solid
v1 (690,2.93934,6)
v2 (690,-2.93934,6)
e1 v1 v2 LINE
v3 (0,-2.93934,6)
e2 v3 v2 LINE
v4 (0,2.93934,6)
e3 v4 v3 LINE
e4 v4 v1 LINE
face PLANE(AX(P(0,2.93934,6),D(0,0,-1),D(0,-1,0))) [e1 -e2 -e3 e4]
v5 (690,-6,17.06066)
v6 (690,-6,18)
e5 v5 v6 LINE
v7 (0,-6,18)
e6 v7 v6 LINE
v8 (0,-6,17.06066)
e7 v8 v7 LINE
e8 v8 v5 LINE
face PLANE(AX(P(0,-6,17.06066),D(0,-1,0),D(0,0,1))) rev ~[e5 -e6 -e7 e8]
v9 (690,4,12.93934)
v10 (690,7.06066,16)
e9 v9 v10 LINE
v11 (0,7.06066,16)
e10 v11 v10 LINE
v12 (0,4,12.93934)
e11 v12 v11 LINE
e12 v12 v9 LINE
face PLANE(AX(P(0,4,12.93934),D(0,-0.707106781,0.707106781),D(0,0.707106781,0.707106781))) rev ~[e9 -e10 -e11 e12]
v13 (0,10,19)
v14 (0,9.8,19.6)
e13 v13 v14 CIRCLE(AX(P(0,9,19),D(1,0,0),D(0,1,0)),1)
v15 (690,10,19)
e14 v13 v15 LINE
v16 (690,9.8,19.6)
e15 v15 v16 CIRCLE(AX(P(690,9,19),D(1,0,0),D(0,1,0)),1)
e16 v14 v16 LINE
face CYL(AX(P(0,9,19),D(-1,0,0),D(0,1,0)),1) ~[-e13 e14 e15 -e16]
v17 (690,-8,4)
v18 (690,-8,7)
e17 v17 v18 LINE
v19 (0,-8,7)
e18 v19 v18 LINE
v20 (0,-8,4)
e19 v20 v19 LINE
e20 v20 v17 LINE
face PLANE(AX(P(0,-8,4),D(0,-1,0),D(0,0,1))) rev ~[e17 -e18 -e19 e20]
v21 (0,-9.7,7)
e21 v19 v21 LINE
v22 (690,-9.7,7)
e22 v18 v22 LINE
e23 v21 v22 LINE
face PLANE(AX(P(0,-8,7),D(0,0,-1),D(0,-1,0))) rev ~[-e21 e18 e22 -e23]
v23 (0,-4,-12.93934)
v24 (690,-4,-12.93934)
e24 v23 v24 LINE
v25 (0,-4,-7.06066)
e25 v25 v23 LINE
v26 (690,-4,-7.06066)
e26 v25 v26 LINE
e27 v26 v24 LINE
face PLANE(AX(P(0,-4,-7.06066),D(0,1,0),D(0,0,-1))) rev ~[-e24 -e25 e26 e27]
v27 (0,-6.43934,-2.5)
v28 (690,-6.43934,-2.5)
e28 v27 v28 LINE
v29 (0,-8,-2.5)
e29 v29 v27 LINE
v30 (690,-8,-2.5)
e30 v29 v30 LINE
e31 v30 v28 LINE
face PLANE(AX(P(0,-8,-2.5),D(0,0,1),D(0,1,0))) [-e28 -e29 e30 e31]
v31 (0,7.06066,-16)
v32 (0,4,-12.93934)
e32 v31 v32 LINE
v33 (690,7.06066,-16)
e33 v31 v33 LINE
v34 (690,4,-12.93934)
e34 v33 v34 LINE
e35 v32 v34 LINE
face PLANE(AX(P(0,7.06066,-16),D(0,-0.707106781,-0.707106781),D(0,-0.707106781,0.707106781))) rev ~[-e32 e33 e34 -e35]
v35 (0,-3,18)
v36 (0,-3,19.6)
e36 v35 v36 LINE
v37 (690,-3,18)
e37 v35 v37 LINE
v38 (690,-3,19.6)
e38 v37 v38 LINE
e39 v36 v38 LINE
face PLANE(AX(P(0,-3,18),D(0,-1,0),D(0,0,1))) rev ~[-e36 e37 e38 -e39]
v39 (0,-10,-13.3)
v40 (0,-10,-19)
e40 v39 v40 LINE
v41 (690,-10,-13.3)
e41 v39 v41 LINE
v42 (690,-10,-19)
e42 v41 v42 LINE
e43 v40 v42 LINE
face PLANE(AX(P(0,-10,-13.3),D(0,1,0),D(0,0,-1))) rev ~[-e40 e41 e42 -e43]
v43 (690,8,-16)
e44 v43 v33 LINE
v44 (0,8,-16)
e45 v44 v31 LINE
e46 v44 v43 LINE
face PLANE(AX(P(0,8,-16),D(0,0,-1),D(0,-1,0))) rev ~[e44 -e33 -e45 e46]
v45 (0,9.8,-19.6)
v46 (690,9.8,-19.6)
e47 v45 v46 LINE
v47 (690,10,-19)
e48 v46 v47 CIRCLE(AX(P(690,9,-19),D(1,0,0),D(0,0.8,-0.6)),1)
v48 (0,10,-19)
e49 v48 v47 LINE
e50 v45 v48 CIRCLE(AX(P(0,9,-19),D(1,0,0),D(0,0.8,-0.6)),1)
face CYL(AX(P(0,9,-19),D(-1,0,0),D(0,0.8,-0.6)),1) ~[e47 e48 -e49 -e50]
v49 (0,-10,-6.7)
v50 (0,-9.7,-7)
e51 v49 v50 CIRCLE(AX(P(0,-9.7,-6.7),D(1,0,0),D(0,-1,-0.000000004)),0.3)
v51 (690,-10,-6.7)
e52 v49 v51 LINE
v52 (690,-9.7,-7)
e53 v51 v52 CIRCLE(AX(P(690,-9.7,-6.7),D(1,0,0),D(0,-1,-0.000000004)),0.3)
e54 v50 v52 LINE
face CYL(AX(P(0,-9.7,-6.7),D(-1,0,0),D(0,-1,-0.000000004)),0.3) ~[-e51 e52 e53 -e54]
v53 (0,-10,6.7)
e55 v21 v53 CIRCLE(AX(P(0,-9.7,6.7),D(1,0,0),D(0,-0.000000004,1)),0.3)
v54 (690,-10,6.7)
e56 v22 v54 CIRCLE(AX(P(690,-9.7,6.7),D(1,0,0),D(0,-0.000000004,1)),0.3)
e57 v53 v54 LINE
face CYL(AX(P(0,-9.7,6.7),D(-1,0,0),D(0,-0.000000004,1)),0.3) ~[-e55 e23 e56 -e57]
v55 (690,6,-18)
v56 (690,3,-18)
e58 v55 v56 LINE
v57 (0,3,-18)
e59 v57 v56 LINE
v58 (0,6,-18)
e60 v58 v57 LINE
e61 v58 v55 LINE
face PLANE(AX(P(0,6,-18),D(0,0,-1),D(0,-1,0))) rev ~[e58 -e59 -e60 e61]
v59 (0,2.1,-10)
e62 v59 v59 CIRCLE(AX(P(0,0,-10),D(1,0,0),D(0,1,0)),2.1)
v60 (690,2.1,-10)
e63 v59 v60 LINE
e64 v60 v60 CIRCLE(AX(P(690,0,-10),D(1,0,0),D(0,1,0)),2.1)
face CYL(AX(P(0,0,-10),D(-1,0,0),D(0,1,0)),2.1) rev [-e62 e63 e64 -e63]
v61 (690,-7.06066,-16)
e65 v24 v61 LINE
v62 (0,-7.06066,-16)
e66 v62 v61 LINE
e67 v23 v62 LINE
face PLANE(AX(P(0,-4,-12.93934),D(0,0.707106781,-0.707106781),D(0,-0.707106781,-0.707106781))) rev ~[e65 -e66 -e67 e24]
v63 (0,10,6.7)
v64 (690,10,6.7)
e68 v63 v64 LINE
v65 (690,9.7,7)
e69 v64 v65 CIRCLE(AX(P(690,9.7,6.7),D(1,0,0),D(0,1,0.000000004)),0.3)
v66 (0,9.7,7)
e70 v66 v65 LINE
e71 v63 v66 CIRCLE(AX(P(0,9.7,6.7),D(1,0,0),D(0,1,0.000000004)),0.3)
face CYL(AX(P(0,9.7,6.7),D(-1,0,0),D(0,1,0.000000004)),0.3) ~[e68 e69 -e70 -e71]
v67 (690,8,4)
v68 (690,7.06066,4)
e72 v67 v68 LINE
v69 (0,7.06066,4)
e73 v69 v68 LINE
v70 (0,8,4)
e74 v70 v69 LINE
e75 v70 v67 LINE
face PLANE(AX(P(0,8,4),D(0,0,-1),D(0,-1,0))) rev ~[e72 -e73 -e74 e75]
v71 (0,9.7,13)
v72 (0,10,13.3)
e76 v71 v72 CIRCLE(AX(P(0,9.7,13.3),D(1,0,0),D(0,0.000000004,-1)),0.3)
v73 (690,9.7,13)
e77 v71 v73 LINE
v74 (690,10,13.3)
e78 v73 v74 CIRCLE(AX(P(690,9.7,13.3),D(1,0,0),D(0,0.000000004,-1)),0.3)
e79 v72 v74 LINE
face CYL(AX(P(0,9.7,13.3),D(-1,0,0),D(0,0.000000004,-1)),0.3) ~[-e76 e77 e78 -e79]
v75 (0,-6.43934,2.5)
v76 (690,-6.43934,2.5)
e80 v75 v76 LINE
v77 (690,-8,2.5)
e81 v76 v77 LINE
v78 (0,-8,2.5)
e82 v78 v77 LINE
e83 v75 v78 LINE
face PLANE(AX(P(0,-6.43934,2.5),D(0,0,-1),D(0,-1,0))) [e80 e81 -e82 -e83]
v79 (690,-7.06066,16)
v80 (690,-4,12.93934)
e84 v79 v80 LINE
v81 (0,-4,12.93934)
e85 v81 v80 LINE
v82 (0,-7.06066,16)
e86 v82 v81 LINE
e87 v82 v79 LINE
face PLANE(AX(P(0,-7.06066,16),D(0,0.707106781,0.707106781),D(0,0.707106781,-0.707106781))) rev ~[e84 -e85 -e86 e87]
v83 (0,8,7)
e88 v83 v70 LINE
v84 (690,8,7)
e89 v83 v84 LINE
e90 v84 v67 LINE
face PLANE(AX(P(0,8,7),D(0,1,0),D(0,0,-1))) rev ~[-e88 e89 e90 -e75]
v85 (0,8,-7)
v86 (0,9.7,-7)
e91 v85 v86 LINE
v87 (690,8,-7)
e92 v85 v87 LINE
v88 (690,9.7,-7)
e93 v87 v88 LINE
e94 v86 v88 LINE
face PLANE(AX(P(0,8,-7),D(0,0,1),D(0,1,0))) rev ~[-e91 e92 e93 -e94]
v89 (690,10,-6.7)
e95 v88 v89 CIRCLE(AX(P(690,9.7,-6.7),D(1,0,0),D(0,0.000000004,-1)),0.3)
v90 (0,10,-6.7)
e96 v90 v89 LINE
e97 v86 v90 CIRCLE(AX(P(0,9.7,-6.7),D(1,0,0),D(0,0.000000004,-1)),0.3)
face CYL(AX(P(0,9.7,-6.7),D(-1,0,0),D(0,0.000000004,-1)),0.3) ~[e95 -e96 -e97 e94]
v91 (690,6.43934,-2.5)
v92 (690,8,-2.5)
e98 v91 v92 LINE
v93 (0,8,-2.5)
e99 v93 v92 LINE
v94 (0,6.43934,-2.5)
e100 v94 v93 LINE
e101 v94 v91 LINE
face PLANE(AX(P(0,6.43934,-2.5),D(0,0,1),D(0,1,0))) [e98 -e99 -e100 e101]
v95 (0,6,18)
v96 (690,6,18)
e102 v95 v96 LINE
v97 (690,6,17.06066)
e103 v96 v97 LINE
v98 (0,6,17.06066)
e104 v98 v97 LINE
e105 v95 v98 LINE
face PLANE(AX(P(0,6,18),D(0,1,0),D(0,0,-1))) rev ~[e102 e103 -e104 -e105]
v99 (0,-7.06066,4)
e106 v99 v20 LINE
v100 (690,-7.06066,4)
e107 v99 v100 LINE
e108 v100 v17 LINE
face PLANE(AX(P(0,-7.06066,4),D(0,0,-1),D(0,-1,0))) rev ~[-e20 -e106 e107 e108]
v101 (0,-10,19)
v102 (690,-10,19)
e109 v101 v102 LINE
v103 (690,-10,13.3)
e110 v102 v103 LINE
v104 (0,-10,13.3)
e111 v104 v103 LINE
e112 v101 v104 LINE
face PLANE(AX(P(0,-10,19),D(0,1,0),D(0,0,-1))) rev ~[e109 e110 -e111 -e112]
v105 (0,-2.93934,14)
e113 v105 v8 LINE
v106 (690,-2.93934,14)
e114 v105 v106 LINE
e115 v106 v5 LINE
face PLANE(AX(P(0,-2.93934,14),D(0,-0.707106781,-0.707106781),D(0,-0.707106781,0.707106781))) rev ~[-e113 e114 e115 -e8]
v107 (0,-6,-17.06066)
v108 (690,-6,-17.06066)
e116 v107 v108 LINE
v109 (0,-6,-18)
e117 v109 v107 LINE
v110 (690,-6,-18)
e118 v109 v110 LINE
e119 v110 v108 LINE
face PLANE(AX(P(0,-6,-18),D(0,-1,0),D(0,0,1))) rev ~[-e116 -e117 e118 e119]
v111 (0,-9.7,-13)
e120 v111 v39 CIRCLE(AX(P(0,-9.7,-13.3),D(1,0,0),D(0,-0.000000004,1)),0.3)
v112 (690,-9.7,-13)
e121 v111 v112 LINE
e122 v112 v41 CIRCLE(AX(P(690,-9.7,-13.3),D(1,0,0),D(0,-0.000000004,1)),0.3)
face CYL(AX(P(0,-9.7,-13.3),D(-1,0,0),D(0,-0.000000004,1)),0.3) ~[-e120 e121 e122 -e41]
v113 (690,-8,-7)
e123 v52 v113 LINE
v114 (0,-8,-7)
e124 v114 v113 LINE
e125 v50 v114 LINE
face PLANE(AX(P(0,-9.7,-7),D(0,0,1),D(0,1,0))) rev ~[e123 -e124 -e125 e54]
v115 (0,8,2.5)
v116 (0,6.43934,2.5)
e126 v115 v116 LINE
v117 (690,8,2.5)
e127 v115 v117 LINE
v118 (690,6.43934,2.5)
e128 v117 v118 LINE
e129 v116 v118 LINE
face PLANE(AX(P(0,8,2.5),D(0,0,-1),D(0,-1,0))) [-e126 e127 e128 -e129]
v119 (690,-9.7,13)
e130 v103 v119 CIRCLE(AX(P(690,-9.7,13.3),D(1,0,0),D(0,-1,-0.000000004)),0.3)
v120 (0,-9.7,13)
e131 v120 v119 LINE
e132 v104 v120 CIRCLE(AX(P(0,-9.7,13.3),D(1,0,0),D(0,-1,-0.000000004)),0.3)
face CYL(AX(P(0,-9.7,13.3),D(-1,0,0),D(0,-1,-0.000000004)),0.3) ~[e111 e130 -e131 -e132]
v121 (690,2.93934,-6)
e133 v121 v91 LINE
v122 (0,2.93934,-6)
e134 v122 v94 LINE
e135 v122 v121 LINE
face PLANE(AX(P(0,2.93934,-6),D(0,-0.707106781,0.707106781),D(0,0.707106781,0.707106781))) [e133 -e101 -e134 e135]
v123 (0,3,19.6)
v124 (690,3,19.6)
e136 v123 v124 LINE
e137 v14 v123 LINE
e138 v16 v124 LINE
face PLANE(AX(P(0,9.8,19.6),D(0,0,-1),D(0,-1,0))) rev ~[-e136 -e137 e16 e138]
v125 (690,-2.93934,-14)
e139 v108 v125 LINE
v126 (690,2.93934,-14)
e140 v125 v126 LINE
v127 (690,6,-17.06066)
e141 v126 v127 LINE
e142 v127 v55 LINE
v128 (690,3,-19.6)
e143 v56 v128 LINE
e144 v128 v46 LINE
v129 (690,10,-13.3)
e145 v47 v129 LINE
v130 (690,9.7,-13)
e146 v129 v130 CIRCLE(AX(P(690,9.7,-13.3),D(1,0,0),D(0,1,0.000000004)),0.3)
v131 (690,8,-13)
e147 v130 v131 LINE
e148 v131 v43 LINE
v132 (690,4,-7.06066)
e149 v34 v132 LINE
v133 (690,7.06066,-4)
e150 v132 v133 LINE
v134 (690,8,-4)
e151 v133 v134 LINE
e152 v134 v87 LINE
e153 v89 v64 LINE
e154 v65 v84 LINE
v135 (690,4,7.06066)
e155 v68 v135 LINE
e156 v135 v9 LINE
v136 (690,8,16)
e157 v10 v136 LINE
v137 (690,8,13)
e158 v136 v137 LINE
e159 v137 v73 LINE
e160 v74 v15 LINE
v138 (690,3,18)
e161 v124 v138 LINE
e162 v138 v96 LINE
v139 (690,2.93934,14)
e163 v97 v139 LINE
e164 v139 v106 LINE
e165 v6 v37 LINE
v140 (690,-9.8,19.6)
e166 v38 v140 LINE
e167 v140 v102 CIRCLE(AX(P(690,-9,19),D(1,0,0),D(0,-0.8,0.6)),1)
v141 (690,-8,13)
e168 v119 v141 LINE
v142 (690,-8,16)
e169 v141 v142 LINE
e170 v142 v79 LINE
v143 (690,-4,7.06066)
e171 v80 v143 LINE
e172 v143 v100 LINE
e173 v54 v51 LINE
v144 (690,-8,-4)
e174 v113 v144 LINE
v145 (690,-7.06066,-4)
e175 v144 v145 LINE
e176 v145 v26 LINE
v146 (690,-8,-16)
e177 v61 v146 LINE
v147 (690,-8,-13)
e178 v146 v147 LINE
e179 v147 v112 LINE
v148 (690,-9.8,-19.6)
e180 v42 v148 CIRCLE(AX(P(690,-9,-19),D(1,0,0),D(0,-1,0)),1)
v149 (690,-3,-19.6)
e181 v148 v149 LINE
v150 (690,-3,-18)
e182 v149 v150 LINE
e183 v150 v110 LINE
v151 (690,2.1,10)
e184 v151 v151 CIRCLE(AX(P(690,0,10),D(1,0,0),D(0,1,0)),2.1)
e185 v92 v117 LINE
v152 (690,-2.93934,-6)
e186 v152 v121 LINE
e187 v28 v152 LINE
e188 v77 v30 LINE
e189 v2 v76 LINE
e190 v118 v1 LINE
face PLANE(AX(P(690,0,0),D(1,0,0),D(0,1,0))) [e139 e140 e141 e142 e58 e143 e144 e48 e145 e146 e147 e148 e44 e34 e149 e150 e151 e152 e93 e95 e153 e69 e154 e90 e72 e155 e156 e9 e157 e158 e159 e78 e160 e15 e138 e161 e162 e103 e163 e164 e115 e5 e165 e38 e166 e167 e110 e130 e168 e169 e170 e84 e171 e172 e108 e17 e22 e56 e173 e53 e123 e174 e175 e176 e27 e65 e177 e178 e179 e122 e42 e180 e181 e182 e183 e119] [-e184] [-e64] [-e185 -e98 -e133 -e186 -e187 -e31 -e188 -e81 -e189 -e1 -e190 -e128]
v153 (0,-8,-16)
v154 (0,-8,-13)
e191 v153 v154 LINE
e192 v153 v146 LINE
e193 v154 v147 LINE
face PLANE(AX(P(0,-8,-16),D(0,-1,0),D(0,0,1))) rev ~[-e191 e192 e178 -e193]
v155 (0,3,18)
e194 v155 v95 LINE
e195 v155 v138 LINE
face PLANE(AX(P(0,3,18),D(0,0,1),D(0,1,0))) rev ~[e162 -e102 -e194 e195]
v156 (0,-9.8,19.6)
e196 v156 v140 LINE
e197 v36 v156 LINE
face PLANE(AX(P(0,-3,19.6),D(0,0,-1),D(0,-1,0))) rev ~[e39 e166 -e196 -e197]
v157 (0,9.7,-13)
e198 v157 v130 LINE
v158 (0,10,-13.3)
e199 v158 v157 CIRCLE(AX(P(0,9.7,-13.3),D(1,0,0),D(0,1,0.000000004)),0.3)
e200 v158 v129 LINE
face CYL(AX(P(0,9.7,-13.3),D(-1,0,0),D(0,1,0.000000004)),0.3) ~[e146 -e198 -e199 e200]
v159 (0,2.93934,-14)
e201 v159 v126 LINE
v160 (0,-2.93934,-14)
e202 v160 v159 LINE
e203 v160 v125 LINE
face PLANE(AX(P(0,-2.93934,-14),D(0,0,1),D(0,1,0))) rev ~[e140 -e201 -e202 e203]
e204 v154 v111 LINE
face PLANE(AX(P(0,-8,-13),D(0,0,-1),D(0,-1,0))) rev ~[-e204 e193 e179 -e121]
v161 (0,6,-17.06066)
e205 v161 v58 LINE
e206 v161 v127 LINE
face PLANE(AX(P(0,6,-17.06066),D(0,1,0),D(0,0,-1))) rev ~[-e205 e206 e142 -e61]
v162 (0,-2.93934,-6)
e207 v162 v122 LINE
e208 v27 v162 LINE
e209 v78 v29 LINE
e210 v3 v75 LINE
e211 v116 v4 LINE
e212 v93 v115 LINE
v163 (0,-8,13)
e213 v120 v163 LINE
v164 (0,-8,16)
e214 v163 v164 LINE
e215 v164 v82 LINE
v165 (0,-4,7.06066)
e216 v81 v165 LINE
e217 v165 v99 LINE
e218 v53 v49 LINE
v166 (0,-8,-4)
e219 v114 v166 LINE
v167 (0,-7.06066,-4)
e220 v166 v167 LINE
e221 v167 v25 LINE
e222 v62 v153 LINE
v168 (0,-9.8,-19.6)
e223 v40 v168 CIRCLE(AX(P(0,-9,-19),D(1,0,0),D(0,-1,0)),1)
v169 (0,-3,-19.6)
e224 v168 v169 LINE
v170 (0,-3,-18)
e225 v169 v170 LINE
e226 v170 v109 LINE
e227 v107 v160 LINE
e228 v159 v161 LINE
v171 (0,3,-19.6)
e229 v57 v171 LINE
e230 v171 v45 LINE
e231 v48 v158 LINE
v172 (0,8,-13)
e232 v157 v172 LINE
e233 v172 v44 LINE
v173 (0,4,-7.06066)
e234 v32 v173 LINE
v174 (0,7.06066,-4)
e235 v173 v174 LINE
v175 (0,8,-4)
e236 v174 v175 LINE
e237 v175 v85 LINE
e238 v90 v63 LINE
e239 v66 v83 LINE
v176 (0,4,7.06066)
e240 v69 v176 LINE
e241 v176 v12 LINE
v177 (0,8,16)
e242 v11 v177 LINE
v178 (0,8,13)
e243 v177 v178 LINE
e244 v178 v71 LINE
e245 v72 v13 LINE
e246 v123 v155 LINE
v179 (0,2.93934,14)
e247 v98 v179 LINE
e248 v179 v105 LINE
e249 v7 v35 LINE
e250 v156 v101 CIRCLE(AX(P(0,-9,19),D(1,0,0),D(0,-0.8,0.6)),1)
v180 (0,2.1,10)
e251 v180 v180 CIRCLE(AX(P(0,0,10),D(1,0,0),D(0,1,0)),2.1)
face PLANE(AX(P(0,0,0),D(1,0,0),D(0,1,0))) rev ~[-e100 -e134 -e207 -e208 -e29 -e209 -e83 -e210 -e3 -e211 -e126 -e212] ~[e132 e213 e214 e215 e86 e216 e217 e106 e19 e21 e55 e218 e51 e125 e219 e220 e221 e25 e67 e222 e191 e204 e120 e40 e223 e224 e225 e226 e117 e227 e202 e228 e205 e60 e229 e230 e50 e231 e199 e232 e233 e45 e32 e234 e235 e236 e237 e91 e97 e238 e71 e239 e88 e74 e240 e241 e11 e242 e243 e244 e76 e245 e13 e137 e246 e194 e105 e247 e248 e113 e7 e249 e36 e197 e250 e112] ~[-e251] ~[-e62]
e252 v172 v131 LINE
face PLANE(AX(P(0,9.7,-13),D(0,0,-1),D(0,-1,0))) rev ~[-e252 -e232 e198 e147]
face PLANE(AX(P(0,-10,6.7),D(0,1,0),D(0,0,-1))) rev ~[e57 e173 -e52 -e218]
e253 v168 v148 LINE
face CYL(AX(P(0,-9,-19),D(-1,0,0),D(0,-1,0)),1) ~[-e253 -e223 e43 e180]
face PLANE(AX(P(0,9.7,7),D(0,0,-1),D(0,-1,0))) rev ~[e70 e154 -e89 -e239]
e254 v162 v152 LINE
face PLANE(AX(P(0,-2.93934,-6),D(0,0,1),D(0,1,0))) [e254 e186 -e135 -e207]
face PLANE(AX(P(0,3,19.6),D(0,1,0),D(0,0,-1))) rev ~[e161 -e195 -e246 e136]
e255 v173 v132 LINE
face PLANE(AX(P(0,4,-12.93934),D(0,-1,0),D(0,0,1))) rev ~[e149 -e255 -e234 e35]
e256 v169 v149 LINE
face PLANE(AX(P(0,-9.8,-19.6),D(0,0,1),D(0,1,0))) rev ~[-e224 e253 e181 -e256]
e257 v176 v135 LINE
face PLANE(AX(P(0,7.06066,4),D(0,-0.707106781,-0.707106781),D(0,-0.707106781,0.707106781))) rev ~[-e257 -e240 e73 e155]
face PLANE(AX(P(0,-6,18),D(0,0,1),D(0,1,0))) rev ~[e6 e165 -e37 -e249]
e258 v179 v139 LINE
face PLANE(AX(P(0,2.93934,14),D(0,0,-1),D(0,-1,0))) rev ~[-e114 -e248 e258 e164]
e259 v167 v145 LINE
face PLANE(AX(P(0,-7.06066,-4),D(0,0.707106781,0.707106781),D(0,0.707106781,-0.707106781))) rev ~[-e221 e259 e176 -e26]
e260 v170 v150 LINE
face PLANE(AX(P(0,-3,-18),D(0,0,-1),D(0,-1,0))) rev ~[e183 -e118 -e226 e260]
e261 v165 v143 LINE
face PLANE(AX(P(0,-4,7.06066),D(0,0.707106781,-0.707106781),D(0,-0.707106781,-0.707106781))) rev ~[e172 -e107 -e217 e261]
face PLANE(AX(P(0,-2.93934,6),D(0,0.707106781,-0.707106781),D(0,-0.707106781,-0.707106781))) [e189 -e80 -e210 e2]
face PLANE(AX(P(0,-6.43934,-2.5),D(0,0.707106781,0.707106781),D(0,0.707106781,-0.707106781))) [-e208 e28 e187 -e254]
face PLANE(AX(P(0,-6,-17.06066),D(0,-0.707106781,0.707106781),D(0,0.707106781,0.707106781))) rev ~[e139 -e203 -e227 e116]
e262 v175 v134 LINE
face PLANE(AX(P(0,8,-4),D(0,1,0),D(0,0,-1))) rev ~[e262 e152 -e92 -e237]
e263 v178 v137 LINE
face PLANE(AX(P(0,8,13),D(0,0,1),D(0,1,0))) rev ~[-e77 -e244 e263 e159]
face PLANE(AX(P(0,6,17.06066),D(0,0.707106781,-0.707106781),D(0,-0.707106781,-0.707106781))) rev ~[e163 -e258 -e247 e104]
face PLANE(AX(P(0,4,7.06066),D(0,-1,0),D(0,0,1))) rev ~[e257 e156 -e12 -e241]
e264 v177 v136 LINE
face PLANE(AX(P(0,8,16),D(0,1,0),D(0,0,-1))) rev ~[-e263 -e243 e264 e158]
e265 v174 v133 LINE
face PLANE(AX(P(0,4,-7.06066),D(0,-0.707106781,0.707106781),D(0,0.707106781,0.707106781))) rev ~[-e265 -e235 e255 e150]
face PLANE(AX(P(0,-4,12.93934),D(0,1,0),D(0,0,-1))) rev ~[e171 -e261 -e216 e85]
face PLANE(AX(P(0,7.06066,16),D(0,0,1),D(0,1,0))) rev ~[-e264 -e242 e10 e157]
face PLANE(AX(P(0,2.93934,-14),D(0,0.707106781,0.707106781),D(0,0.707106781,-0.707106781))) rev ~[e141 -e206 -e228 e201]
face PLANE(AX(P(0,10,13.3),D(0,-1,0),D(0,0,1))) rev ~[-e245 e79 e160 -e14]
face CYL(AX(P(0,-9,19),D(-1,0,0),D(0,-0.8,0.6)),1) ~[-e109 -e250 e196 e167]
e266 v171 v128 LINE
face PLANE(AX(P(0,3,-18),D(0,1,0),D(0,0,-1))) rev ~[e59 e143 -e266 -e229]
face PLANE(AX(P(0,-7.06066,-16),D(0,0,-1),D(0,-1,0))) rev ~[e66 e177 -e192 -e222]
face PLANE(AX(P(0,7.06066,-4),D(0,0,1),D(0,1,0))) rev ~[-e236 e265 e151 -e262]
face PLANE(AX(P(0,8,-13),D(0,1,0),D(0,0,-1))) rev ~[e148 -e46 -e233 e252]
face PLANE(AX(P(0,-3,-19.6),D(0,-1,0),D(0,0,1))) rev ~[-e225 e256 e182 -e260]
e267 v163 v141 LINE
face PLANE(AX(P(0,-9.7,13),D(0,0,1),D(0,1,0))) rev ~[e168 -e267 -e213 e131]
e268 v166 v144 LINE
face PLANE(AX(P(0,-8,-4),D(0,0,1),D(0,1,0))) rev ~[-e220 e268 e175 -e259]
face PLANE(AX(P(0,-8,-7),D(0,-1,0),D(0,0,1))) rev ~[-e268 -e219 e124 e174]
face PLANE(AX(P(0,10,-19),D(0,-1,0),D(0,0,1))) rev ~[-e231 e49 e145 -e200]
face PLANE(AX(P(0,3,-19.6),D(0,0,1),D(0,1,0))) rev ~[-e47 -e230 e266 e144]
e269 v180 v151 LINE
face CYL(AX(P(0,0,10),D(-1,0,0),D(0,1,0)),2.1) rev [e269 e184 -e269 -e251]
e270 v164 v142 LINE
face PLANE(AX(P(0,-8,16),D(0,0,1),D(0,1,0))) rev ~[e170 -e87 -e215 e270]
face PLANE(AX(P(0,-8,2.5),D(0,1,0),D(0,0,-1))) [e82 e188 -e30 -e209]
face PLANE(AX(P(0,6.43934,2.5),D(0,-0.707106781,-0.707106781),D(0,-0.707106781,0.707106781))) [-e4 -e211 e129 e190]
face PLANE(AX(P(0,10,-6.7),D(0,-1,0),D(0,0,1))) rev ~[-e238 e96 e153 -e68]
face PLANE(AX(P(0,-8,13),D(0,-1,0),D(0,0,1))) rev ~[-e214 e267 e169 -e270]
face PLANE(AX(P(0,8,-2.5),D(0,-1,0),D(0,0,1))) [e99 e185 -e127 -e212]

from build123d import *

# Parameters (mm, degrees)
SKETCH_1_R              = 2.1
F_20XS5_20X40S5_1_DEPTH = 690


with BuildPart() as part:
    # 草图1 → 20xs5 20X40S5(1) (new body)
    with BuildSketch(Plane.YZ):
        with BuildLine():
            Line((-10, 19), (-10, 13.3))
            ThreePointArc((-10, 13.3), (-9.912132034, 13.087867966), (-9.7, 13))
            Line((-9.7, 13), (-8, 13))
            Line((-8, 13), (-8, 16))
            Line((-8, 16), (-7.060660172, 16))
            Line((-7.060660172, 16), (-4, 12.939339828))
            Line((-4, 12.939339828), (-4, 7.060660172))
            Line((-4, 7.060660172), (-7.060660172, 4))
            Line((-7.060660172, 4), (-8, 4))
            Line((-8, 4), (-8, 7))
            Line((-8, 7), (-9.7, 7))
            ThreePointArc((-9.7, 7), (-9.912132034, 6.912132034), (-10, 6.7))
            Line((-10, 6.7), (-10, -6.7))
            ThreePointArc((-10, -6.7), (-9.912132034, -6.912132034), (-9.7, -7))
            Line((-9.7, -7), (-8, -7))
            Line((-8, -7), (-8, -4))
            Line((-8, -4), (-7.060660172, -4))
            Line((-7.060660172, -4), (-4, -7.060660172))
            Line((-4, -7.060660172), (-4, -12.939339828))
            Line((-4, -12.939339828), (-7.060660172, -16))
            Line((-7.060660172, -16), (-8, -16))
            Line((-8, -16), (-8, -13))
            Line((-8, -13), (-9.7, -13))
            ThreePointArc((-9.7, -13), (-9.912132034, -13.087867966), (-10, -13.3))
            Line((-10, -13.3), (-10, -19))
            ThreePointArc((-10, -19), (-9.948683298, -19.316227766), (-9.8, -19.6))
            Line((-9.8, -19.6), (-3, -19.6))
            Line((-3, -19.6), (-3, -18))
            Line((-3, -18), (-6, -18))
            Line((-6, -18), (-6, -17.060660172))
            Line((-6, -17.060660172), (-2.939339828, -14))
            Line((-2.939339828, -14), (2.939339828, -14))
            Line((2.939339828, -14), (6, -17.060660172))
            Line((6, -17.060660172), (6, -18))
            Line((6, -18), (3, -18))
            Line((3, -18), (3, -19.6))
            Line((3, -19.6), (9.8, -19.6))
            ThreePointArc((9.8, -19.6), (9.948683298, -19.316227766), (10, -19))
            Line((10, -19), (10, -13.3))
            ThreePointArc((10, -13.3), (9.912132034, -13.087867966), (9.7, -13))
            Line((9.7, -13), (8, -13))
            Line((8, -13), (8, -16))
            Line((8, -16), (7.060660172, -16))
            Line((7.060660172, -16), (4, -12.939339828))
            Line((4, -12.939339828), (4, -7.060660172))
            Line((4, -7.060660172), (7.060660172, -4))
            Line((7.060660172, -4), (8, -4))
            Line((8, -4), (8, -7))
            Line((8, -7), (9.7, -7))
            ThreePointArc((9.7, -7), (9.912132034, -6.912132034), (10, -6.7))
            Line((10, -6.7), (10, 6.7))
            ThreePointArc((10, 6.7), (9.912132034, 6.912132034), (9.7, 7))
            Line((9.7, 7), (8, 7))
            Line((8, 7), (8, 4))
            Line((8, 4), (7.060660172, 4))
            Line((7.060660172, 4), (4, 7.060660172))
            Line((4, 7.060660172), (4, 12.939339828))
            Line((4, 12.939339828), (7.060660172, 16))
            Line((7.060660172, 16), (8, 16))
            Line((8, 16), (8, 13))
            Line((8, 13), (9.7, 13))
            ThreePointArc((9.7, 13), (9.912132034, 13.087867966), (10, 13.3))
            Line((10, 13.3), (10, 19))
            ThreePointArc((10, 19), (9.948683298, 19.316227766), (9.8, 19.6))
            Line((9.8, 19.6), (3, 19.6))
            Line((3, 19.6), (3, 18))
            Line((3, 18), (6, 18))
            Line((6, 18), (6, 17.060660172))
            Line((6, 17.060660172), (2.939339828, 14))
            Line((2.939339828, 14), (-2.939339828, 14))
            Line((-2.939339828, 14), (-6, 17.060660172))
            Line((-6, 17.060660172), (-6, 18))
            Line((-6, 18), (-3, 18))
            Line((-3, 18), (-3, 19.6))
            Line((-3, 19.6), (-9.8, 19.6))
            ThreePointArc((-9.8, 19.6), (-9.948683298, 19.316227766), (-10, 19))
        make_face()
        with Locations((0, -10)):
            Circle(SKETCH_1_R, mode=Mode.SUBTRACT)
        with Locations((0, 10)):
            Circle(SKETCH_1_R, mode=Mode.SUBTRACT)
        Polygon((-8, -2.5), (-6.439339828, -2.5), (-2.939339828, -6), (2.939339828, -6), (6.439339828, -2.5), (8, -2.5), (8, 2.5), (6.439339828, 2.5), (2.939339828, 6), (-2.939339828, 6), (-6.439339828, 2.5), (-8, 2.5), align=None, mode=Mode.SUBTRACT)
    extrude(amount=F_20XS5_20X40S5_1_DEPTH)


solid = part.part
